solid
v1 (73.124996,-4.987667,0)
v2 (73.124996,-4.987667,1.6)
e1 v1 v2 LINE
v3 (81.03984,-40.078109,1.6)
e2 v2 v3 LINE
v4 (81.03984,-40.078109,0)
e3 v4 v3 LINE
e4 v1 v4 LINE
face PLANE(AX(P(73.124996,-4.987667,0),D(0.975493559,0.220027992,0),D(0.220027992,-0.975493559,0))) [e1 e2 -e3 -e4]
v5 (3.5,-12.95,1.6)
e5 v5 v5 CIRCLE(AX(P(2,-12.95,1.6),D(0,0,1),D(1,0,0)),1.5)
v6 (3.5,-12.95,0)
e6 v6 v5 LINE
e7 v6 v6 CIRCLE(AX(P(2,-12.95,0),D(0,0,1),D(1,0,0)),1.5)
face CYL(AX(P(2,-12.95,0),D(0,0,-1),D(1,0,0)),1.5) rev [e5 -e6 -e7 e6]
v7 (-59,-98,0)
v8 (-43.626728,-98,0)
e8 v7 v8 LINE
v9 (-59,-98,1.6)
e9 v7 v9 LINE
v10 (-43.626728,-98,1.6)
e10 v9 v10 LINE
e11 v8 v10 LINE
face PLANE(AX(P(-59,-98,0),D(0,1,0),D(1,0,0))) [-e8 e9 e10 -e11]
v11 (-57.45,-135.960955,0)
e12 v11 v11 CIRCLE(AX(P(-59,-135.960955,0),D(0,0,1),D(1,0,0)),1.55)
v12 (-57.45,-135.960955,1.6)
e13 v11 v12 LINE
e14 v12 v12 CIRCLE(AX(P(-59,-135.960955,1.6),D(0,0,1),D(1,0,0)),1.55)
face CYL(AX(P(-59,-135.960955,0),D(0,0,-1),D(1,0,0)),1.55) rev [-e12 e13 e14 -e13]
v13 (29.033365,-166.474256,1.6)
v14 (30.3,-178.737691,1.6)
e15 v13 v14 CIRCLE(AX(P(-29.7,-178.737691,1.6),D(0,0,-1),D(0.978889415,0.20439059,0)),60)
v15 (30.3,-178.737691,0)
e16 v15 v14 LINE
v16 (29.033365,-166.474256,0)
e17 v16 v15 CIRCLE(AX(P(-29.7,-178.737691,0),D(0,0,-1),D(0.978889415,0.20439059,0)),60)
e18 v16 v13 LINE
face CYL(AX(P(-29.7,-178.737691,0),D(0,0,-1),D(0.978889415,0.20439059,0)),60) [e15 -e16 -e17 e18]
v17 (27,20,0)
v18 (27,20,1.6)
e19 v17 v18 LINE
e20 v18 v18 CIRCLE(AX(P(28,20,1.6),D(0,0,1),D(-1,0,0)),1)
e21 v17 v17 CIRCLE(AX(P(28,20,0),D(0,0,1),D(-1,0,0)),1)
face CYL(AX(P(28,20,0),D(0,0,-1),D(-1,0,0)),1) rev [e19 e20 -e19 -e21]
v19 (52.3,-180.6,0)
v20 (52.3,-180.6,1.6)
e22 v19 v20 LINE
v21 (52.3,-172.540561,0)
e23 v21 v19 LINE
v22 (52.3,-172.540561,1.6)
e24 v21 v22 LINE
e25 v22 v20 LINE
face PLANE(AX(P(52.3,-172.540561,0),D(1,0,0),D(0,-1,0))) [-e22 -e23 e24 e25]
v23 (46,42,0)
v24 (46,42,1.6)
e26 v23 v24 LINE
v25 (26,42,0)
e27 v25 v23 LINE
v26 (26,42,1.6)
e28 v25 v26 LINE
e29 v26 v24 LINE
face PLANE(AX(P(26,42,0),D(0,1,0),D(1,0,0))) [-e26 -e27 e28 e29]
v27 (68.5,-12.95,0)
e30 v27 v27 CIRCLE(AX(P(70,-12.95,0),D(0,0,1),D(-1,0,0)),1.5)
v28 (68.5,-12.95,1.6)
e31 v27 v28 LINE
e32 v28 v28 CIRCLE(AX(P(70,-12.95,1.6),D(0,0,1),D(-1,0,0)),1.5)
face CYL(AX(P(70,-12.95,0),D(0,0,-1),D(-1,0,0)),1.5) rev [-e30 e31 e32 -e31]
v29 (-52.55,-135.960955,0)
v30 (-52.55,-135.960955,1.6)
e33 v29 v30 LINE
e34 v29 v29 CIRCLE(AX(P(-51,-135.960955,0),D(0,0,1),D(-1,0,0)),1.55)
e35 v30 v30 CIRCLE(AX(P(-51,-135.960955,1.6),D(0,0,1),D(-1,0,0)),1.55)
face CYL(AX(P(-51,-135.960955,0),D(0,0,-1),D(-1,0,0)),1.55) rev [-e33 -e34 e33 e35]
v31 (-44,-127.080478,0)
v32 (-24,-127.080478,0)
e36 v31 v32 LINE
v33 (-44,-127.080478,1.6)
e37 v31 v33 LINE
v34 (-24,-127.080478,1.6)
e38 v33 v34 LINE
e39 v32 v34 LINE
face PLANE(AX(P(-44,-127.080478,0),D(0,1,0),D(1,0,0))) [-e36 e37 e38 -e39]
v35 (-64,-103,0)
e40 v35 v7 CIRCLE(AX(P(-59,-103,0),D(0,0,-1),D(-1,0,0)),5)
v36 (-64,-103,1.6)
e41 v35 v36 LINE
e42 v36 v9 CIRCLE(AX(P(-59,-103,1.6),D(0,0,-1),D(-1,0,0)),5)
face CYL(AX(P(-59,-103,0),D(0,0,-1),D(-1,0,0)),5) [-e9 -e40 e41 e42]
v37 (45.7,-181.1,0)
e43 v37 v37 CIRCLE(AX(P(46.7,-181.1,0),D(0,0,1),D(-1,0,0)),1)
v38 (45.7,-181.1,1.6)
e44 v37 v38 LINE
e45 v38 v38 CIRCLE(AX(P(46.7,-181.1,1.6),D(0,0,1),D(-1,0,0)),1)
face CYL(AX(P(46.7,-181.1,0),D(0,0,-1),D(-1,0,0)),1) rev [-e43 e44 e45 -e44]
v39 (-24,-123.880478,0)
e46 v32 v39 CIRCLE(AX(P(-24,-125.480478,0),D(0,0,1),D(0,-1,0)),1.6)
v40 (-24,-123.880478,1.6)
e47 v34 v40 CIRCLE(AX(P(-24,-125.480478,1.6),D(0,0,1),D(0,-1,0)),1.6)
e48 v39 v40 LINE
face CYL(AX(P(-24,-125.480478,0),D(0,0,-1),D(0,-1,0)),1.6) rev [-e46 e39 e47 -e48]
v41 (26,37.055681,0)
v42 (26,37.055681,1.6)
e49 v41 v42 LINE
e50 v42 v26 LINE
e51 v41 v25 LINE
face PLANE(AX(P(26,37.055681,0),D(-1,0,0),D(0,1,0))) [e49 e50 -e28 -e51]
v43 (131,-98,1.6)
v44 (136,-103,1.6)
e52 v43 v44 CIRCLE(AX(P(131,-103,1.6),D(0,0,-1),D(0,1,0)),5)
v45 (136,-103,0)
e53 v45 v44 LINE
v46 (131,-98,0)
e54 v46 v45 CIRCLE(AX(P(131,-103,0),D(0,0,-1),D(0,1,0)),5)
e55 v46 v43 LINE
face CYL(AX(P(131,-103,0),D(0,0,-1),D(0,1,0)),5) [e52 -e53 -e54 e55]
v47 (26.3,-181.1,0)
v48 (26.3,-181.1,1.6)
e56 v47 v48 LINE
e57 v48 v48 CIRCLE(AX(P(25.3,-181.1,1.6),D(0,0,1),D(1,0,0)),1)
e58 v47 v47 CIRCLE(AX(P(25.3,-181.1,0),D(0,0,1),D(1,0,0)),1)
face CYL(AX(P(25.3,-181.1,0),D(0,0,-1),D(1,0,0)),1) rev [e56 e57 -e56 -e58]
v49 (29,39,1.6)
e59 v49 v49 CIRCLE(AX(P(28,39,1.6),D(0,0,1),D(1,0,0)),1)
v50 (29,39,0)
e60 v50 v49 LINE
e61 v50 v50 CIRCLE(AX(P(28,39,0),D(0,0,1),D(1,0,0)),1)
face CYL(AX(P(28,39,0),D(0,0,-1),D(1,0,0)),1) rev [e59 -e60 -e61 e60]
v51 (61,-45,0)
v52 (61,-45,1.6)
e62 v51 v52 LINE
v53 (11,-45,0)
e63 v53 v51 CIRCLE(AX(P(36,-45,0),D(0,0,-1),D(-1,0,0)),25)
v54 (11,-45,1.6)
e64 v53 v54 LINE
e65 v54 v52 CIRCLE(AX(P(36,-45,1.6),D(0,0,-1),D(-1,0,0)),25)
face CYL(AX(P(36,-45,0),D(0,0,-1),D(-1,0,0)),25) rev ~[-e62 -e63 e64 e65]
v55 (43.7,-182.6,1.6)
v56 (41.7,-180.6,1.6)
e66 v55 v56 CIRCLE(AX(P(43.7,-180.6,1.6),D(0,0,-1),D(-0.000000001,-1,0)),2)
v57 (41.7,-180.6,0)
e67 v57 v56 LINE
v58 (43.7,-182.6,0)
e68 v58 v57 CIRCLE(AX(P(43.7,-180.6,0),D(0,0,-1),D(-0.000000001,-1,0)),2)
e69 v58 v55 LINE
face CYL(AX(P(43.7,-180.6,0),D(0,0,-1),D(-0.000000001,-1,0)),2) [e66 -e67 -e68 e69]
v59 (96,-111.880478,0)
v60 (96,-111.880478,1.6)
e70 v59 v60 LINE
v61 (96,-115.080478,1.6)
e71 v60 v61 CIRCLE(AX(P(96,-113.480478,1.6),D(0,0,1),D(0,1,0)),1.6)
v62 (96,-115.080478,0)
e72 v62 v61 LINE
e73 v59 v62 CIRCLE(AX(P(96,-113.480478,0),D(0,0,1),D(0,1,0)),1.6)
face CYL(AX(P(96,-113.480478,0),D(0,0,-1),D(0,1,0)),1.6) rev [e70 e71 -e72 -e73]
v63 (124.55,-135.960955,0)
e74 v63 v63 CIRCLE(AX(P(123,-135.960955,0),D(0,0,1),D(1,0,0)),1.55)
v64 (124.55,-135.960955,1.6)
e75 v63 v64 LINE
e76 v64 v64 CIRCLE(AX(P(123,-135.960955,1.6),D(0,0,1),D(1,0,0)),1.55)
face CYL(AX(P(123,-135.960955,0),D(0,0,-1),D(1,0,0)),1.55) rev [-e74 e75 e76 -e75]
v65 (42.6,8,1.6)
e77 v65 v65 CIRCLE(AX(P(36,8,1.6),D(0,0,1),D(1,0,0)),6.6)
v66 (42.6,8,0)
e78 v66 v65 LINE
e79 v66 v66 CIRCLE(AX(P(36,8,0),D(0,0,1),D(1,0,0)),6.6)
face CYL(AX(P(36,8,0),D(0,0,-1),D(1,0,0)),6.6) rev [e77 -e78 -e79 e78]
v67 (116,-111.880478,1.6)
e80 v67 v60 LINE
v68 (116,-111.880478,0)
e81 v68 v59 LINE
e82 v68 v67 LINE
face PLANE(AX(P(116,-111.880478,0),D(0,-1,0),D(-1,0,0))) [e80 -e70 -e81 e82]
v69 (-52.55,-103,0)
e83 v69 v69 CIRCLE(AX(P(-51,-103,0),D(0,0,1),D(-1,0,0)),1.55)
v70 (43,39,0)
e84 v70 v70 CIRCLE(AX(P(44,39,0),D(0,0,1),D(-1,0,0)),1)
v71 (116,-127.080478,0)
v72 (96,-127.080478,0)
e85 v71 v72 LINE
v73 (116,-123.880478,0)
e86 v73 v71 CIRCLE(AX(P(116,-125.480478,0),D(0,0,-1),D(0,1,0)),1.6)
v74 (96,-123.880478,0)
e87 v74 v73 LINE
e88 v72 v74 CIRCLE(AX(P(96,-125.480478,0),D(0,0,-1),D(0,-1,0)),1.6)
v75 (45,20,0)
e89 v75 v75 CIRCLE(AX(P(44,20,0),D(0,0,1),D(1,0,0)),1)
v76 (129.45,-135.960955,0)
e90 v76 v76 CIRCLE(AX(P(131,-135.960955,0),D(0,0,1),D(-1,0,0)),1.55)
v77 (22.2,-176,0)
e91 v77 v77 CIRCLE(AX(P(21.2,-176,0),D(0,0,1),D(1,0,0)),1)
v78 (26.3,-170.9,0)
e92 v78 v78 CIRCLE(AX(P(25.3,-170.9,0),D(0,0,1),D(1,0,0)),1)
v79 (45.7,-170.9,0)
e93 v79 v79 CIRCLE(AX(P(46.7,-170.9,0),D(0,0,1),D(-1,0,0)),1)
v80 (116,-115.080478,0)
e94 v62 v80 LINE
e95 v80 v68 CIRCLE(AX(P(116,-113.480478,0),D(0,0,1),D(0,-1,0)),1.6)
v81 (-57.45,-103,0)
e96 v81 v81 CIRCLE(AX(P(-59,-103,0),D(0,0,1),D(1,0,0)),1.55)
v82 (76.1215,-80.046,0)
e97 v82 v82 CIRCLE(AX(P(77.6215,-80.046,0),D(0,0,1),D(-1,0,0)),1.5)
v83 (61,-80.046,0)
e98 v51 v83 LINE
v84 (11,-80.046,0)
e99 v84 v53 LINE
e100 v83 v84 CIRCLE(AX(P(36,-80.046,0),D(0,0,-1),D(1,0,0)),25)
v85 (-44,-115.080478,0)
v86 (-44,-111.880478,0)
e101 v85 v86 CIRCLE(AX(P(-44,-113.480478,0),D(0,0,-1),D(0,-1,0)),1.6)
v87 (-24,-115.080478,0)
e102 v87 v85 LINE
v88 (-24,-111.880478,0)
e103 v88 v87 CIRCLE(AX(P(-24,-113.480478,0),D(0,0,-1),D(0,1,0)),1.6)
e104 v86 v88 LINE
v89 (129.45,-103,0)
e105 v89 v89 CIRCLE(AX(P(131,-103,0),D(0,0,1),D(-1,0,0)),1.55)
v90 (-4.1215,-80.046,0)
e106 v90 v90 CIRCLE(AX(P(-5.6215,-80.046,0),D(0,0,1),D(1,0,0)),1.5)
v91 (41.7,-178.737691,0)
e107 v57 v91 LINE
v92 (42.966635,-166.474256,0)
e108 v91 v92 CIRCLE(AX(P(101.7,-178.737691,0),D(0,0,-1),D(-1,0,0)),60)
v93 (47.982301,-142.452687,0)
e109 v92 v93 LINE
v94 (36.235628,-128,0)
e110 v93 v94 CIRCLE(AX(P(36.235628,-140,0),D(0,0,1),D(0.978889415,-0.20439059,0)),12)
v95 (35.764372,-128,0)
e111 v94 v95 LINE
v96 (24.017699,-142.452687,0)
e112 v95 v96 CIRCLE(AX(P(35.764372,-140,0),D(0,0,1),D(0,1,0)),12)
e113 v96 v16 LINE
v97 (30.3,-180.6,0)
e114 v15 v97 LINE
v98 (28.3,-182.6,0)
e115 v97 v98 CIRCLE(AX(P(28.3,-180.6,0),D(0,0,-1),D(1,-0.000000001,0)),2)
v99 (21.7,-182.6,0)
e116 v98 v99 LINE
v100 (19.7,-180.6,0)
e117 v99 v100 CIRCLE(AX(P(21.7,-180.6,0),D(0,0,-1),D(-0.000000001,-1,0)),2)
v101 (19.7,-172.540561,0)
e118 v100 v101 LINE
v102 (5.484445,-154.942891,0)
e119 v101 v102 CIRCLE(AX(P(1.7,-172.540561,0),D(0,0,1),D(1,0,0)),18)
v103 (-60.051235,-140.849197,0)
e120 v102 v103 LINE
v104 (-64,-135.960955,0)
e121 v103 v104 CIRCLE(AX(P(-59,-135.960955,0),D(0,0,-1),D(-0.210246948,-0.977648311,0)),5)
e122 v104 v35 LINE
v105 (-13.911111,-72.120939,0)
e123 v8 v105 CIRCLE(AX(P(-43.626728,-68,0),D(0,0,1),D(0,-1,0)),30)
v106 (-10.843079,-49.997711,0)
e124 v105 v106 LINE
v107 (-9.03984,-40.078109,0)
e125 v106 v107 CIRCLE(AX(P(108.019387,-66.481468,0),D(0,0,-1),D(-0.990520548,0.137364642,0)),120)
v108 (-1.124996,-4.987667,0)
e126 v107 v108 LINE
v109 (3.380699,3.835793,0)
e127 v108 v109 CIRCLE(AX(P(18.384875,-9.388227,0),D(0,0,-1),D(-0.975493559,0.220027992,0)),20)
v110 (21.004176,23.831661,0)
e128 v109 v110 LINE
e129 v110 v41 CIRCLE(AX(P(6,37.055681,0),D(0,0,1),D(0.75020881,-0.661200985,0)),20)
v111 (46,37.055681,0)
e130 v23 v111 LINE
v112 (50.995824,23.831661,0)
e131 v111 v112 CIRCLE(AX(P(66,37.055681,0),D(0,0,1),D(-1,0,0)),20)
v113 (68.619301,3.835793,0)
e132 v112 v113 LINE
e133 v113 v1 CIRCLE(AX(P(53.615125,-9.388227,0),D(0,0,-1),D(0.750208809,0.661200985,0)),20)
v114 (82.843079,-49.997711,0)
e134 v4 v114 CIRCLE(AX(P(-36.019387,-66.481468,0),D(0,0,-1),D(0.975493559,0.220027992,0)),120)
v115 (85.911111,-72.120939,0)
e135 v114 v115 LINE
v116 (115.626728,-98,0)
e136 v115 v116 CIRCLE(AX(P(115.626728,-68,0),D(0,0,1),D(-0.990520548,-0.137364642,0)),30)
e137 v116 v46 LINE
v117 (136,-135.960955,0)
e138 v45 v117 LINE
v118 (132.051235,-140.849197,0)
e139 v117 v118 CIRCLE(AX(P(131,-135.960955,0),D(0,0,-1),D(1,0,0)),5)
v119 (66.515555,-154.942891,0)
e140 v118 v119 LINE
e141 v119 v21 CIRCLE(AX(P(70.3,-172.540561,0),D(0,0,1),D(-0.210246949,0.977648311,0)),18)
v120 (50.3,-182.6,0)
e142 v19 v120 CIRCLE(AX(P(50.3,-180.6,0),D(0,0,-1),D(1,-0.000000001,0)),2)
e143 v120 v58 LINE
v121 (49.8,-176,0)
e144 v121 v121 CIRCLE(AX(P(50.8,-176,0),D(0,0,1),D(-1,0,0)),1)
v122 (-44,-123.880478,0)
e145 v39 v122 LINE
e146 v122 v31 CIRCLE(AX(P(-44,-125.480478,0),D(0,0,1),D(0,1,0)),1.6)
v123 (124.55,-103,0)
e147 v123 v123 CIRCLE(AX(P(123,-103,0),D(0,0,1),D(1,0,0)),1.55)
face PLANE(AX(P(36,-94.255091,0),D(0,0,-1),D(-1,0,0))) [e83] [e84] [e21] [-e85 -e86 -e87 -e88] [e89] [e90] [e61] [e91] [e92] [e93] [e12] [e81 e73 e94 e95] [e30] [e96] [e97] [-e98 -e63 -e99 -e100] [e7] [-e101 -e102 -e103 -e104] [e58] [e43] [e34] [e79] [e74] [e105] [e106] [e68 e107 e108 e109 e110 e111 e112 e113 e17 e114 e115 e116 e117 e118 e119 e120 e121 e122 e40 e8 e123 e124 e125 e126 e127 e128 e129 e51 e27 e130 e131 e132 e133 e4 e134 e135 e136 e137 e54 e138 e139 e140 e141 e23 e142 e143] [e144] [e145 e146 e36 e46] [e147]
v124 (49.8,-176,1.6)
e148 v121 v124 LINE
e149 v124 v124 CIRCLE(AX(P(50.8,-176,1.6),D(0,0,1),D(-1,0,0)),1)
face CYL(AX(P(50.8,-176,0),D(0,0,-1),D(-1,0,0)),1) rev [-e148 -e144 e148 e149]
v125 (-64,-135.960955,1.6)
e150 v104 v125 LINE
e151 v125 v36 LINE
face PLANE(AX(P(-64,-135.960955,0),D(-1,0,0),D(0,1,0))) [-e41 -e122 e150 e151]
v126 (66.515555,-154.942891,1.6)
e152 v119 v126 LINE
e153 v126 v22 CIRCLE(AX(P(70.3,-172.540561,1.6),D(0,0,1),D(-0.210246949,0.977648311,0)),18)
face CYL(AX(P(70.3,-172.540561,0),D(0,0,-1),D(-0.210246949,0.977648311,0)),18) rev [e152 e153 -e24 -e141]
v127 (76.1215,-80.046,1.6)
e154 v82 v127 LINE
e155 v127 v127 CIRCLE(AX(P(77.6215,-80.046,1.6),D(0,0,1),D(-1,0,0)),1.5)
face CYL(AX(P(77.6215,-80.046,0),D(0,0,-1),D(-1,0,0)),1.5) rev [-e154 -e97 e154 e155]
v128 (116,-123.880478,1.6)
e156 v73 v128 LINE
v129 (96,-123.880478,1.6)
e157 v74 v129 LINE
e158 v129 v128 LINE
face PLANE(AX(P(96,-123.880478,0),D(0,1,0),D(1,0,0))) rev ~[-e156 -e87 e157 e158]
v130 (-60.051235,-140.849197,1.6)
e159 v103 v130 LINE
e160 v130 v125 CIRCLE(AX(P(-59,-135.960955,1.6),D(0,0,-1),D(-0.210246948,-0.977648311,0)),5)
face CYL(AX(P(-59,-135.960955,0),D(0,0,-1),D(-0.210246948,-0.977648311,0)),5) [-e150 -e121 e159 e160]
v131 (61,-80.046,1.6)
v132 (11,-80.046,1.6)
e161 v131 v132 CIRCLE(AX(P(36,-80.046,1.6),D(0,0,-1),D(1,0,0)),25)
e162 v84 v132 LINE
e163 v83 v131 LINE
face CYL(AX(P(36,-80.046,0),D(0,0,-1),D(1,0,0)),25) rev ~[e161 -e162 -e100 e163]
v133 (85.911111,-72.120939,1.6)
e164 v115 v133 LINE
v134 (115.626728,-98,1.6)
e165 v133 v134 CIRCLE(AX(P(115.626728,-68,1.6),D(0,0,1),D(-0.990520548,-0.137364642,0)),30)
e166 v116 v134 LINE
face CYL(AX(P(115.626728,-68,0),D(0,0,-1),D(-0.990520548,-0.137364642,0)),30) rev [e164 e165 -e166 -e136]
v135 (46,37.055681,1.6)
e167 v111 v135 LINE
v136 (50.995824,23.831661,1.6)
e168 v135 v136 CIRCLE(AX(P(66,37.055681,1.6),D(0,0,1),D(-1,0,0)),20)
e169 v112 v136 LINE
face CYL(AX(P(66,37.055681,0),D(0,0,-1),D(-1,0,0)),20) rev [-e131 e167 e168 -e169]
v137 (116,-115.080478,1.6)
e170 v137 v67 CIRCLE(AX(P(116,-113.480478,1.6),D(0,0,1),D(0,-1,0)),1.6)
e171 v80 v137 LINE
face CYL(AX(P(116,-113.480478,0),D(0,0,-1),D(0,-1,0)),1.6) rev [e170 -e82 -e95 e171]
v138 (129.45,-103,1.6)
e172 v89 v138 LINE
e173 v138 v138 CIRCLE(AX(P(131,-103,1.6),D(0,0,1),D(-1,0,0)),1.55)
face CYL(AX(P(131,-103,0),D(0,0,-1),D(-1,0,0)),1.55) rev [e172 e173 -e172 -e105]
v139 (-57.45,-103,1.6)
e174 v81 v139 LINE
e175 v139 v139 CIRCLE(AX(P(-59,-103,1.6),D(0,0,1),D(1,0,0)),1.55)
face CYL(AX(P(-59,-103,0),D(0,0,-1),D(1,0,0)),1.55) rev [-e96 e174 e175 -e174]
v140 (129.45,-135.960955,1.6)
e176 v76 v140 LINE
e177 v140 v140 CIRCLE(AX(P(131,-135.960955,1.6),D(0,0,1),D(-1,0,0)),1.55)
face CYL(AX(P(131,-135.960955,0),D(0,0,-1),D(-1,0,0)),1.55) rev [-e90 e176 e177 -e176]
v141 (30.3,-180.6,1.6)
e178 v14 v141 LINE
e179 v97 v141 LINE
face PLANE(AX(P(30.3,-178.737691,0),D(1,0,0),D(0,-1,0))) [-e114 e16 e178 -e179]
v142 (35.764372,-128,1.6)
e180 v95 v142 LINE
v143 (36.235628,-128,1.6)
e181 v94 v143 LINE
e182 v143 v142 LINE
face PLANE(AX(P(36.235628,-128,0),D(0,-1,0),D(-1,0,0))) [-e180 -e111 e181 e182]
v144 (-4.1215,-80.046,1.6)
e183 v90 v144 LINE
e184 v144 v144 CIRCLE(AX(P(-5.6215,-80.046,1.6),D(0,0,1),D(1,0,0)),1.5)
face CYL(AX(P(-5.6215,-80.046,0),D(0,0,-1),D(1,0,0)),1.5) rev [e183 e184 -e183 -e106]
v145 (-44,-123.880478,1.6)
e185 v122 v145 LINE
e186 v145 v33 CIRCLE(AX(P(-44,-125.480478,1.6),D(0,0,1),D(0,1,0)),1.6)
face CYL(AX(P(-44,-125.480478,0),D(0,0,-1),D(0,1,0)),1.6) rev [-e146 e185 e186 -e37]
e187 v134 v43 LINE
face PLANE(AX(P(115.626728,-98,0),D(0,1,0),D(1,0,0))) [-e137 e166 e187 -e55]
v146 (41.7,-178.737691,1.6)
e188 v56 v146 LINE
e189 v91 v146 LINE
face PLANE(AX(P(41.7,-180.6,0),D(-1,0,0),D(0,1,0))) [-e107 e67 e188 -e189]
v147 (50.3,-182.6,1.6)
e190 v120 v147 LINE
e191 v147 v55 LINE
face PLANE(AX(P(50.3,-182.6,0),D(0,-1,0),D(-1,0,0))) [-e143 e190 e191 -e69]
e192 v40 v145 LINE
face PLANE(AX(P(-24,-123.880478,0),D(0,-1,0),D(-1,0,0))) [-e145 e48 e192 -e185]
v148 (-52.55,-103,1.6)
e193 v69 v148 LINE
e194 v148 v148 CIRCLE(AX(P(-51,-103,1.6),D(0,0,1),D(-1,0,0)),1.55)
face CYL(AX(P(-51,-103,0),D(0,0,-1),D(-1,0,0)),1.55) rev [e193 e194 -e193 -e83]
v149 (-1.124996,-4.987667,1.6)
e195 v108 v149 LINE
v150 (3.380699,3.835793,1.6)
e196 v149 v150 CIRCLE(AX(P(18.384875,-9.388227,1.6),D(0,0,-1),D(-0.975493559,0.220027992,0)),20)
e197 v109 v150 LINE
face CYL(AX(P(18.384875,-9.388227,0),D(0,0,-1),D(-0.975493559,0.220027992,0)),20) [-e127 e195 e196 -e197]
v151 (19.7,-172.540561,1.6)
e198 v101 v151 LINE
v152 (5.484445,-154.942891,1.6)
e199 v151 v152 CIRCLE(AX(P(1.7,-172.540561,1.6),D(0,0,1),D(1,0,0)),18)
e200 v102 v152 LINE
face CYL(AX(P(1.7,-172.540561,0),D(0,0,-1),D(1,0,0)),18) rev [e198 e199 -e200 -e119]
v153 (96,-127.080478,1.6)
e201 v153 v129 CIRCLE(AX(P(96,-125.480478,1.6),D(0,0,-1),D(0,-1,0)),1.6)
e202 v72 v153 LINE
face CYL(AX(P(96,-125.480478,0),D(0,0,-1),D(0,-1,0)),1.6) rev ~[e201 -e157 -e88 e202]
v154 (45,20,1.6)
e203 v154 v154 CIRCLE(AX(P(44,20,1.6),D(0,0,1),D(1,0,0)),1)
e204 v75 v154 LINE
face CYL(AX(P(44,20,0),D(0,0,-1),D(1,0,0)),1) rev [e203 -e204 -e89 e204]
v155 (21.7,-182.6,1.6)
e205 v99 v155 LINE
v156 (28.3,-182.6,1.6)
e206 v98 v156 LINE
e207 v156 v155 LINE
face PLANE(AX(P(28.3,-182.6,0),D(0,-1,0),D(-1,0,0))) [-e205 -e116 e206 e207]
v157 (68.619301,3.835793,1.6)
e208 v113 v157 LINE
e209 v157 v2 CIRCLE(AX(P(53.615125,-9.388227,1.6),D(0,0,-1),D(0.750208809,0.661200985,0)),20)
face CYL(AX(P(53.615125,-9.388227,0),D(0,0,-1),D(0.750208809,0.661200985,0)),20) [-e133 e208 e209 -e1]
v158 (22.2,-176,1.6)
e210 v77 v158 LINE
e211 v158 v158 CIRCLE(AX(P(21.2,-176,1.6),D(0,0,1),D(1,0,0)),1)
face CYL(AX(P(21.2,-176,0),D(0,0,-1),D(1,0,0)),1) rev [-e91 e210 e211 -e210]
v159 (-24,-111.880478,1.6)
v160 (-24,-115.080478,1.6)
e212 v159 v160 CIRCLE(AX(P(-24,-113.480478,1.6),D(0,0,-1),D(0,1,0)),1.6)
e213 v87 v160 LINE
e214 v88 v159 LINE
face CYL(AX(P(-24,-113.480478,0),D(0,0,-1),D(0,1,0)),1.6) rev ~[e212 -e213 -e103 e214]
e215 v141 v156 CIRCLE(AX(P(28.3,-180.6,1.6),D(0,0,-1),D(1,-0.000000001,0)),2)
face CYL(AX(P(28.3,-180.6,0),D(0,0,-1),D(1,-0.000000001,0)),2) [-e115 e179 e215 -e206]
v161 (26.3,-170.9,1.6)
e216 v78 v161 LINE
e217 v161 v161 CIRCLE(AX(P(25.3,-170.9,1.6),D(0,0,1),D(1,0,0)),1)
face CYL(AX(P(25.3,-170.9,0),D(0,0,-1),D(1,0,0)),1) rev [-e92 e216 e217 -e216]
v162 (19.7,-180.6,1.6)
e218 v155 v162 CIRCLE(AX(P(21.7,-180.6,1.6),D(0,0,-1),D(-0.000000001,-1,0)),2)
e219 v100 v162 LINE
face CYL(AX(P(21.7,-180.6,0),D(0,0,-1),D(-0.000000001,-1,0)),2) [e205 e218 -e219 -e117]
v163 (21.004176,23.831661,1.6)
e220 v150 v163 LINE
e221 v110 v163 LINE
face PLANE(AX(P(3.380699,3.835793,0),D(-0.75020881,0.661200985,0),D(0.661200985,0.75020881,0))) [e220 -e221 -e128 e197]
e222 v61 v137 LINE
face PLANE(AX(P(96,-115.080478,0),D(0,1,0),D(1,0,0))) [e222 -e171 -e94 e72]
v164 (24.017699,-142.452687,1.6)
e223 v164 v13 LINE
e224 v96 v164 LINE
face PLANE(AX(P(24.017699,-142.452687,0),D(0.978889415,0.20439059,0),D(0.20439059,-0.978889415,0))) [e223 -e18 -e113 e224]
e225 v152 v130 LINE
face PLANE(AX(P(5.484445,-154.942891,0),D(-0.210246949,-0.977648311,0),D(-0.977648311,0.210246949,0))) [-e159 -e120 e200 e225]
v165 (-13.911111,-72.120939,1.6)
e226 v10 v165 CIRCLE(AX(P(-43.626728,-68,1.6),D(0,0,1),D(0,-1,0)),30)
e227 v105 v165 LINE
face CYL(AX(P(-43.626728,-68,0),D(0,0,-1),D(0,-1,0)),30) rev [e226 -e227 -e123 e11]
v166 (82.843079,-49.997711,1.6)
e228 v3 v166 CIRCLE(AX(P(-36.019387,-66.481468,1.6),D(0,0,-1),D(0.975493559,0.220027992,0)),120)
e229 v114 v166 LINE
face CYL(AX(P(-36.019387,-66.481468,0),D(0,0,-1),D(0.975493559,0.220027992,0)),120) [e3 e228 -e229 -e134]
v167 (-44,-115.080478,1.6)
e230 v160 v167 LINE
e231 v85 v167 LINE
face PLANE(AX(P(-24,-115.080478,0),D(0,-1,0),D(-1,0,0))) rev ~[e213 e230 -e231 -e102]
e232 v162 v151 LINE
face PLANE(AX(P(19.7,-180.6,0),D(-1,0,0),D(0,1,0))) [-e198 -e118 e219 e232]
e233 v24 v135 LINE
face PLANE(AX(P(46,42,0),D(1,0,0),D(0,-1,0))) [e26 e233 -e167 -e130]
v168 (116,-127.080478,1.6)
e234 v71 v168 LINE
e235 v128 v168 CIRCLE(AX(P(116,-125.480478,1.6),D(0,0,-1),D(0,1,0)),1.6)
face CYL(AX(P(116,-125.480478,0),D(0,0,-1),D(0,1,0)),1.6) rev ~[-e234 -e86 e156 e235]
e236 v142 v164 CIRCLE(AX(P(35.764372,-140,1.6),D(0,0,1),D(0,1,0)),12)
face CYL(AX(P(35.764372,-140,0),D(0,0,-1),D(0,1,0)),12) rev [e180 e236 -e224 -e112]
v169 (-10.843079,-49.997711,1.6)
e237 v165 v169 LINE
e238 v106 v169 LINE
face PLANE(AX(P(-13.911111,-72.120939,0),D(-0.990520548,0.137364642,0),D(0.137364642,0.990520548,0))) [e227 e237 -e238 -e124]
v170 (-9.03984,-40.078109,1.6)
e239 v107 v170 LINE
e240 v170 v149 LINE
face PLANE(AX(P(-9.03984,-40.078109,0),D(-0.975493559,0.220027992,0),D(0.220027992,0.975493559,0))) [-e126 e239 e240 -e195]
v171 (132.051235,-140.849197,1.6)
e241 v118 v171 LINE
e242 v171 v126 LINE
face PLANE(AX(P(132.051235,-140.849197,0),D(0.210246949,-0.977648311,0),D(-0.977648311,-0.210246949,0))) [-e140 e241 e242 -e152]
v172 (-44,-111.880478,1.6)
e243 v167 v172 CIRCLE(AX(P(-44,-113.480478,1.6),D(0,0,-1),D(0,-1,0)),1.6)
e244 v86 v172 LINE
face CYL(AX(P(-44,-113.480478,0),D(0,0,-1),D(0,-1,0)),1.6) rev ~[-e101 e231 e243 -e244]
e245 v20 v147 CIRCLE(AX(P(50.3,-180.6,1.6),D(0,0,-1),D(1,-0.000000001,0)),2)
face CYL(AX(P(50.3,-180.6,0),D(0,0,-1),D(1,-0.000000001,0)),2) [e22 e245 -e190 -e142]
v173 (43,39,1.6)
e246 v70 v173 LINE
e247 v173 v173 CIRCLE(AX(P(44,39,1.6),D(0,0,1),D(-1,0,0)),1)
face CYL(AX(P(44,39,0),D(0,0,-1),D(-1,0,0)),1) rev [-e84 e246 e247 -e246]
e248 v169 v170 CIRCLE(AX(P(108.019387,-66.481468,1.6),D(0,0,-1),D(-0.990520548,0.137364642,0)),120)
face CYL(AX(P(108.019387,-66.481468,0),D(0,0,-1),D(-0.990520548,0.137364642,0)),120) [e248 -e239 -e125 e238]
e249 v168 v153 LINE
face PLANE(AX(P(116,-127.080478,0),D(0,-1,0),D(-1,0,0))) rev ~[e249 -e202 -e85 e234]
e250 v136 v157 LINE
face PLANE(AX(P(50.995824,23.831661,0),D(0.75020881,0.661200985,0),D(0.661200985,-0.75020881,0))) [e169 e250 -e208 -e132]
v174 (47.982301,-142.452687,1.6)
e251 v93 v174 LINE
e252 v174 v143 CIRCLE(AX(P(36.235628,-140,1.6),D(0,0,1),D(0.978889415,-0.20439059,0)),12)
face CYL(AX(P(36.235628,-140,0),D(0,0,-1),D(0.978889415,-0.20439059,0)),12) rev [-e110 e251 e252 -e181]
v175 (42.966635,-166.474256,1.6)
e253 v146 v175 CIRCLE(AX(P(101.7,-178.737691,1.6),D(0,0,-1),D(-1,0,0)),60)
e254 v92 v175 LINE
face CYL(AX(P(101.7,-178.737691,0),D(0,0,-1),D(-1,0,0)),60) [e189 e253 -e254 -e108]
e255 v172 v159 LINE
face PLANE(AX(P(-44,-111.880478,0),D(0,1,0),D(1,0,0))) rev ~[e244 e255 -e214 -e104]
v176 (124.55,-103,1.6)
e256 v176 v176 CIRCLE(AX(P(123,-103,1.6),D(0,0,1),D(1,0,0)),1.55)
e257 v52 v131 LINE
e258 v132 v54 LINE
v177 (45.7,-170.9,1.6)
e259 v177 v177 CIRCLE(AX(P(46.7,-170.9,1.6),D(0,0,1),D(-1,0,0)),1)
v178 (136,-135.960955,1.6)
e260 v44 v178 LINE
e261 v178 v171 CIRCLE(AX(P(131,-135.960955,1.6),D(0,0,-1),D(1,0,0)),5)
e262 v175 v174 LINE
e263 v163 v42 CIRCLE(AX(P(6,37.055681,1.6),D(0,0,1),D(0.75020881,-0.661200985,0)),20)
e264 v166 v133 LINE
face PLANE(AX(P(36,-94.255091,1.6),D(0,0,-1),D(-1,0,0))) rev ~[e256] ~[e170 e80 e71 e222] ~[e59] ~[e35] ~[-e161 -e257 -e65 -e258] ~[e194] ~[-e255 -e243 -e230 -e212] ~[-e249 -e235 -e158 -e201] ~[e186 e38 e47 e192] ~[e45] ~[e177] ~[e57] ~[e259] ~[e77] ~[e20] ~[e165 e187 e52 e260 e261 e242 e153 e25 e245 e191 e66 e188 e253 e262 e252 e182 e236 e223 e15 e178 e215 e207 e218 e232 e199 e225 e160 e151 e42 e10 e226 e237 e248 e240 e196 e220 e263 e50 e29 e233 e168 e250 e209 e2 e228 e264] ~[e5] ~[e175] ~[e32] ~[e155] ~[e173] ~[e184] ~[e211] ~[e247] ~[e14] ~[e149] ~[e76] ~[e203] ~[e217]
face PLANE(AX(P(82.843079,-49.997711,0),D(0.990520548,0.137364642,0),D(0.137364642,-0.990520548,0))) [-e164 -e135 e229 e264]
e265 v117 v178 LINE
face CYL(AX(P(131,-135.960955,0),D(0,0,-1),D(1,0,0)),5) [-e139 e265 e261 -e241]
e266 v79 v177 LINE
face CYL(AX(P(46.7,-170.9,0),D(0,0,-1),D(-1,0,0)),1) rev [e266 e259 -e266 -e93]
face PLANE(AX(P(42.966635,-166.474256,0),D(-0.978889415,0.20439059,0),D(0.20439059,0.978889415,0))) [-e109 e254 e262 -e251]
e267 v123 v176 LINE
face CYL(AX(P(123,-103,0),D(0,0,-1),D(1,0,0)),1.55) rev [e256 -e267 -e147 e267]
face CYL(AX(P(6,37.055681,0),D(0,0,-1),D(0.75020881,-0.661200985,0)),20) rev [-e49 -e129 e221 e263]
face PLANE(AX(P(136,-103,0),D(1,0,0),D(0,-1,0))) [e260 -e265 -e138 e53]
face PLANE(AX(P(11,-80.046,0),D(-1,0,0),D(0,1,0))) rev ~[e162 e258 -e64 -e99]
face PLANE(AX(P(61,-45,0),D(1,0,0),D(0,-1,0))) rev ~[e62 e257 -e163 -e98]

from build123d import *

# Parameters (mm, degrees)
SKETCH_1_R      = 1.5
SKETCH_1_R_2    = 1
SKETCH_1_R_3    = 6.6
SKETCH_1_R_4    = 1.55
EXTRUDE_1_DEPTH = 1.6


with BuildPart() as part:
    # 草图1 → 凸台-拉伸1 (new body)
    with BuildSketch(Plane.XY):
        with BuildLine():
            Line((28.3, -182.6), (21.7, -182.6))
            ThreePointArc((21.7, -182.6), (20.285786438, -182.014213562), (19.7, -180.6))
            Line((19.7, -180.6), (19.7, -172.540561017))
            ThreePointArc((19.7, -172.540561017), (15.702142896, -161.229504731), (5.484445076, -154.942891414))
            Line((5.484445076, -154.942891414), (-60.051234743, -140.849196829))
            ThreePointArc((-60.051234743, -140.849196829), (-62.889484138, -139.102915353), (-64, -135.960955273))
            Line((-64, -135.960955273), (-64, -103))
            ThreePointArc((-64, -103), (-62.535533906, -99.464466094), (-59, -98))
            Line((-59, -98), (-43.626727815, -98))
            ThreePointArc((-43.626727815, -98), (-23.924293673, -90.623308531), (-13.911111388, -72.120939259))
            Line((-13.911111388, -72.120939259), (-10.843078735, -49.997710609))
            ThreePointArc((-10.843078735, -49.997710609), (-10.045683656, -45.018963187), (-9.039840064, -40.078108658))
            Line((-9.039840064, -40.078108658), (-1.124995937, -4.987666714))
            ThreePointArc((-1.124995937, -4.987666714), (0.57285044, -0.292525766), (3.380699046, 3.835793148))
            Line((3.380699046, 3.835793148), (21.00417619, 23.831661447))
            ThreePointArc((21.00417619, 23.831661447), (24.709403034, 29.987566958), (26, 37.05568114))
            Line((26, 37.05568114), (26, 42))
            Line((26, 42), (46, 42))
            Line((46, 42), (46, 37.05568114))
            ThreePointArc((46, 37.05568114), (47.290596966, 29.987566958), (50.99582381, 23.831661447))
            Line((50.99582381, 23.831661447), (68.619300954, 3.835793148))
            ThreePointArc((68.619300954, 3.835793148), (71.42714956, -0.292525766), (73.124995937, -4.987666714))
            Line((73.124995937, -4.987666714), (81.039840064, -40.078108658))
            ThreePointArc((81.039840064, -40.078108658), (82.045683656, -45.018963187), (82.843078735, -49.997710609))
            Line((82.843078735, -49.997710609), (85.911111388, -72.120939259))
            ThreePointArc((85.911111388, -72.120939259), (95.924293673, -90.623308531), (115.626727815, -98))
            Line((115.626727815, -98), (131, -98))
            ThreePointArc((131, -98), (134.535533906, -99.464466094), (136, -103))
            Line((136, -103), (136, -135.960955273))
            ThreePointArc((136, -135.960955273), (134.889484138, -139.102915353), (132.051234743, -140.849196829))
            Line((132.051234743, -140.849196829), (66.515554924, -154.942891414))
            ThreePointArc((66.515554924, -154.942891414), (56.297857104, -161.229504731), (52.3, -172.540561017))
            Line((52.3, -172.540561017), (52.3, -180.6))
            ThreePointArc((52.3, -180.6), (51.714213562, -182.014213562), (50.3, -182.6))
            Line((50.3, -182.6), (43.7, -182.6))
            ThreePointArc((43.7, -182.6), (42.285786438, -182.014213562), (41.7, -180.6))
            Line((41.7, -180.6), (41.7, -178.737691249))
            ThreePointArc((41.7, -178.737691249), (42.017498822, -172.573354043), (42.966635106, -166.474255831))
            Line((42.966635106, -166.474255831), (47.982301372, -142.452687084))
            ThreePointArc((47.982301372, -142.452687084), (45.547777581, -132.431388668), (36.235628393, -128))
            Line((36.235628393, -128), (35.764371607, -128))
            ThreePointArc((35.764371607, -128), (26.452222419, -132.431388668), (24.017698628, -142.452687084))
            Line((24.017698628, -142.452687084), (29.033364894, -166.474255831))
            ThreePointArc((29.033364894, -166.474255831), (29.982501178, -172.573354043), (30.3, -178.737691249))
            Line((30.3, -178.737691249), (30.3, -180.6))
            ThreePointArc((30.3, -180.6), (29.714213562, -182.014213562), (28.3, -182.6))
        make_face()
        with Locations((2, -12.95)):
            Circle(SKETCH_1_R, mode=Mode.SUBTRACT)
        with Locations(Location((70, -12.95, 0), (0, 0, 180))):
            Circle(SKETCH_1_R, mode=Mode.SUBTRACT)
        with Locations((-5.6215, -80.046)):
            Circle(SKETCH_1_R, mode=Mode.SUBTRACT)
        with Locations(Location((77.6215, -80.046, 0), (0, 0, 180))):
            Circle(SKETCH_1_R, mode=Mode.SUBTRACT)
        with Locations((25.3, -170.9)):
            Circle(SKETCH_1_R_2, mode=Mode.SUBTRACT)
        with Locations((25.3, -181.1)):
            Circle(SKETCH_1_R_2, mode=Mode.SUBTRACT)
        with Locations((21.2, -176)):
            Circle(SKETCH_1_R_2, mode=Mode.SUBTRACT)
        with Locations(Location((46.7, -181.1, 0), (0, 0, 180))):
            Circle(SKETCH_1_R_2, mode=Mode.SUBTRACT)
        with Locations(Location((50.8, -176, 0), (0, 0, 180))):
            Circle(SKETCH_1_R_2, mode=Mode.SUBTRACT)
        with Locations(Location((46.7, -170.9, 0), (0, 0, 180))):
            Circle(SKETCH_1_R_2, mode=Mode.SUBTRACT)
        with Locations((28, 39)):
            Circle(SKETCH_1_R_2, mode=Mode.SUBTRACT)
        with Locations(Location((44, 39, 0), (0, 0, 180))):
            Circle(SKETCH_1_R_2, mode=Mode.SUBTRACT)
        with Locations((44, 20)):
            Circle(SKETCH_1_R_2, mode=Mode.SUBTRACT)
        with Locations(Location((28, 20, 0), (0, 0, 180))):
            Circle(SKETCH_1_R_2, mode=Mode.SUBTRACT)
        with Locations((36, 8)):
            Circle(SKETCH_1_R_3, mode=Mode.SUBTRACT)
        with Locations((-59, -103)):
            Circle(SKETCH_1_R_4, mode=Mode.SUBTRACT)
        with Locations((-59, -135.960955273)):
            Circle(SKETCH_1_R_4, mode=Mode.SUBTRACT)
        with Locations(Location((-51, -135.960955273, 0), (0, 0, 180))):
            Circle(SKETCH_1_R_4, mode=Mode.SUBTRACT)
        with Locations(Location((-51, -103, 0), (0, 0, 180))):
            Circle(SKETCH_1_R_4, mode=Mode.SUBTRACT)
        with Locations(Location((131, -135.960955273, 0), (0, 0, 180))):
            Circle(SKETCH_1_R_4, mode=Mode.SUBTRACT)
        with Locations((123, -135.960955273)):
            Circle(SKETCH_1_R_4, mode=Mode.SUBTRACT)
        with Locations((123, -103)):
            Circle(SKETCH_1_R_4, mode=Mode.SUBTRACT)
        with Locations(Location((131, -103, 0), (0, 0, 180))):
            Circle(SKETCH_1_R_4, mode=Mode.SUBTRACT)
        with BuildLine():
            Line((11, -80.046), (11, -45))
            ThreePointArc((11, -45), (36, -20), (61, -45))
            Line((61, -45), (61, -80.046))
            ThreePointArc((61, -80.046), (36, -105.046), (11, -80.046))
        make_face(mode=Mode.SUBTRACT)
        with BuildLine():
            Line((-44, -111.880477636), (-24, -111.880477636))
            ThreePointArc((-24, -111.880477636), (-22.4, -113.480477636), (-24, -115.080477636))
            Line((-24, -115.080477636), (-44, -115.080477636))
            ThreePointArc((-44, -115.080477636), (-45.6, -113.480477636), (-44, -111.880477636))
        make_face(mode=Mode.SUBTRACT)
        with BuildLine():
            Line((-44, -127.080477636), (-24, -127.080477636))
            ThreePointArc((-24, -127.080477636), (-22.4, -125.480477636), (-24, -123.880477636))
            Line((-24, -123.880477636), (-44, -123.880477636))
            ThreePointArc((-44, -123.880477636), (-45.6, -125.480477636), (-44, -127.080477636))
        make_face(mode=Mode.SUBTRACT)
        with BuildLine():
            Line((116, -111.880477636), (96, -111.880477636))
            ThreePointArc((96, -111.880477636), (94.4, -113.480477636), (96, -115.080477636))
            Line((96, -115.080477636), (116, -115.080477636))
            ThreePointArc((116, -115.080477636), (117.6, -113.480477636), (116, -111.880477636))
        make_face(mode=Mode.SUBTRACT)
        with BuildLine():
            Line((116, -127.080477636), (96, -127.080477636))
            ThreePointArc((96, -127.080477636), (94.4, -125.480477636), (96, -123.880477636))
            Line((96, -123.880477636), (116, -123.880477636))
            ThreePointArc((116, -123.880477636), (117.6, -125.480477636), (116, -127.080477636))
        make_face(mode=Mode.SUBTRACT)
    extrude(amount=EXTRUDE_1_DEPTH)


solid = part.part
